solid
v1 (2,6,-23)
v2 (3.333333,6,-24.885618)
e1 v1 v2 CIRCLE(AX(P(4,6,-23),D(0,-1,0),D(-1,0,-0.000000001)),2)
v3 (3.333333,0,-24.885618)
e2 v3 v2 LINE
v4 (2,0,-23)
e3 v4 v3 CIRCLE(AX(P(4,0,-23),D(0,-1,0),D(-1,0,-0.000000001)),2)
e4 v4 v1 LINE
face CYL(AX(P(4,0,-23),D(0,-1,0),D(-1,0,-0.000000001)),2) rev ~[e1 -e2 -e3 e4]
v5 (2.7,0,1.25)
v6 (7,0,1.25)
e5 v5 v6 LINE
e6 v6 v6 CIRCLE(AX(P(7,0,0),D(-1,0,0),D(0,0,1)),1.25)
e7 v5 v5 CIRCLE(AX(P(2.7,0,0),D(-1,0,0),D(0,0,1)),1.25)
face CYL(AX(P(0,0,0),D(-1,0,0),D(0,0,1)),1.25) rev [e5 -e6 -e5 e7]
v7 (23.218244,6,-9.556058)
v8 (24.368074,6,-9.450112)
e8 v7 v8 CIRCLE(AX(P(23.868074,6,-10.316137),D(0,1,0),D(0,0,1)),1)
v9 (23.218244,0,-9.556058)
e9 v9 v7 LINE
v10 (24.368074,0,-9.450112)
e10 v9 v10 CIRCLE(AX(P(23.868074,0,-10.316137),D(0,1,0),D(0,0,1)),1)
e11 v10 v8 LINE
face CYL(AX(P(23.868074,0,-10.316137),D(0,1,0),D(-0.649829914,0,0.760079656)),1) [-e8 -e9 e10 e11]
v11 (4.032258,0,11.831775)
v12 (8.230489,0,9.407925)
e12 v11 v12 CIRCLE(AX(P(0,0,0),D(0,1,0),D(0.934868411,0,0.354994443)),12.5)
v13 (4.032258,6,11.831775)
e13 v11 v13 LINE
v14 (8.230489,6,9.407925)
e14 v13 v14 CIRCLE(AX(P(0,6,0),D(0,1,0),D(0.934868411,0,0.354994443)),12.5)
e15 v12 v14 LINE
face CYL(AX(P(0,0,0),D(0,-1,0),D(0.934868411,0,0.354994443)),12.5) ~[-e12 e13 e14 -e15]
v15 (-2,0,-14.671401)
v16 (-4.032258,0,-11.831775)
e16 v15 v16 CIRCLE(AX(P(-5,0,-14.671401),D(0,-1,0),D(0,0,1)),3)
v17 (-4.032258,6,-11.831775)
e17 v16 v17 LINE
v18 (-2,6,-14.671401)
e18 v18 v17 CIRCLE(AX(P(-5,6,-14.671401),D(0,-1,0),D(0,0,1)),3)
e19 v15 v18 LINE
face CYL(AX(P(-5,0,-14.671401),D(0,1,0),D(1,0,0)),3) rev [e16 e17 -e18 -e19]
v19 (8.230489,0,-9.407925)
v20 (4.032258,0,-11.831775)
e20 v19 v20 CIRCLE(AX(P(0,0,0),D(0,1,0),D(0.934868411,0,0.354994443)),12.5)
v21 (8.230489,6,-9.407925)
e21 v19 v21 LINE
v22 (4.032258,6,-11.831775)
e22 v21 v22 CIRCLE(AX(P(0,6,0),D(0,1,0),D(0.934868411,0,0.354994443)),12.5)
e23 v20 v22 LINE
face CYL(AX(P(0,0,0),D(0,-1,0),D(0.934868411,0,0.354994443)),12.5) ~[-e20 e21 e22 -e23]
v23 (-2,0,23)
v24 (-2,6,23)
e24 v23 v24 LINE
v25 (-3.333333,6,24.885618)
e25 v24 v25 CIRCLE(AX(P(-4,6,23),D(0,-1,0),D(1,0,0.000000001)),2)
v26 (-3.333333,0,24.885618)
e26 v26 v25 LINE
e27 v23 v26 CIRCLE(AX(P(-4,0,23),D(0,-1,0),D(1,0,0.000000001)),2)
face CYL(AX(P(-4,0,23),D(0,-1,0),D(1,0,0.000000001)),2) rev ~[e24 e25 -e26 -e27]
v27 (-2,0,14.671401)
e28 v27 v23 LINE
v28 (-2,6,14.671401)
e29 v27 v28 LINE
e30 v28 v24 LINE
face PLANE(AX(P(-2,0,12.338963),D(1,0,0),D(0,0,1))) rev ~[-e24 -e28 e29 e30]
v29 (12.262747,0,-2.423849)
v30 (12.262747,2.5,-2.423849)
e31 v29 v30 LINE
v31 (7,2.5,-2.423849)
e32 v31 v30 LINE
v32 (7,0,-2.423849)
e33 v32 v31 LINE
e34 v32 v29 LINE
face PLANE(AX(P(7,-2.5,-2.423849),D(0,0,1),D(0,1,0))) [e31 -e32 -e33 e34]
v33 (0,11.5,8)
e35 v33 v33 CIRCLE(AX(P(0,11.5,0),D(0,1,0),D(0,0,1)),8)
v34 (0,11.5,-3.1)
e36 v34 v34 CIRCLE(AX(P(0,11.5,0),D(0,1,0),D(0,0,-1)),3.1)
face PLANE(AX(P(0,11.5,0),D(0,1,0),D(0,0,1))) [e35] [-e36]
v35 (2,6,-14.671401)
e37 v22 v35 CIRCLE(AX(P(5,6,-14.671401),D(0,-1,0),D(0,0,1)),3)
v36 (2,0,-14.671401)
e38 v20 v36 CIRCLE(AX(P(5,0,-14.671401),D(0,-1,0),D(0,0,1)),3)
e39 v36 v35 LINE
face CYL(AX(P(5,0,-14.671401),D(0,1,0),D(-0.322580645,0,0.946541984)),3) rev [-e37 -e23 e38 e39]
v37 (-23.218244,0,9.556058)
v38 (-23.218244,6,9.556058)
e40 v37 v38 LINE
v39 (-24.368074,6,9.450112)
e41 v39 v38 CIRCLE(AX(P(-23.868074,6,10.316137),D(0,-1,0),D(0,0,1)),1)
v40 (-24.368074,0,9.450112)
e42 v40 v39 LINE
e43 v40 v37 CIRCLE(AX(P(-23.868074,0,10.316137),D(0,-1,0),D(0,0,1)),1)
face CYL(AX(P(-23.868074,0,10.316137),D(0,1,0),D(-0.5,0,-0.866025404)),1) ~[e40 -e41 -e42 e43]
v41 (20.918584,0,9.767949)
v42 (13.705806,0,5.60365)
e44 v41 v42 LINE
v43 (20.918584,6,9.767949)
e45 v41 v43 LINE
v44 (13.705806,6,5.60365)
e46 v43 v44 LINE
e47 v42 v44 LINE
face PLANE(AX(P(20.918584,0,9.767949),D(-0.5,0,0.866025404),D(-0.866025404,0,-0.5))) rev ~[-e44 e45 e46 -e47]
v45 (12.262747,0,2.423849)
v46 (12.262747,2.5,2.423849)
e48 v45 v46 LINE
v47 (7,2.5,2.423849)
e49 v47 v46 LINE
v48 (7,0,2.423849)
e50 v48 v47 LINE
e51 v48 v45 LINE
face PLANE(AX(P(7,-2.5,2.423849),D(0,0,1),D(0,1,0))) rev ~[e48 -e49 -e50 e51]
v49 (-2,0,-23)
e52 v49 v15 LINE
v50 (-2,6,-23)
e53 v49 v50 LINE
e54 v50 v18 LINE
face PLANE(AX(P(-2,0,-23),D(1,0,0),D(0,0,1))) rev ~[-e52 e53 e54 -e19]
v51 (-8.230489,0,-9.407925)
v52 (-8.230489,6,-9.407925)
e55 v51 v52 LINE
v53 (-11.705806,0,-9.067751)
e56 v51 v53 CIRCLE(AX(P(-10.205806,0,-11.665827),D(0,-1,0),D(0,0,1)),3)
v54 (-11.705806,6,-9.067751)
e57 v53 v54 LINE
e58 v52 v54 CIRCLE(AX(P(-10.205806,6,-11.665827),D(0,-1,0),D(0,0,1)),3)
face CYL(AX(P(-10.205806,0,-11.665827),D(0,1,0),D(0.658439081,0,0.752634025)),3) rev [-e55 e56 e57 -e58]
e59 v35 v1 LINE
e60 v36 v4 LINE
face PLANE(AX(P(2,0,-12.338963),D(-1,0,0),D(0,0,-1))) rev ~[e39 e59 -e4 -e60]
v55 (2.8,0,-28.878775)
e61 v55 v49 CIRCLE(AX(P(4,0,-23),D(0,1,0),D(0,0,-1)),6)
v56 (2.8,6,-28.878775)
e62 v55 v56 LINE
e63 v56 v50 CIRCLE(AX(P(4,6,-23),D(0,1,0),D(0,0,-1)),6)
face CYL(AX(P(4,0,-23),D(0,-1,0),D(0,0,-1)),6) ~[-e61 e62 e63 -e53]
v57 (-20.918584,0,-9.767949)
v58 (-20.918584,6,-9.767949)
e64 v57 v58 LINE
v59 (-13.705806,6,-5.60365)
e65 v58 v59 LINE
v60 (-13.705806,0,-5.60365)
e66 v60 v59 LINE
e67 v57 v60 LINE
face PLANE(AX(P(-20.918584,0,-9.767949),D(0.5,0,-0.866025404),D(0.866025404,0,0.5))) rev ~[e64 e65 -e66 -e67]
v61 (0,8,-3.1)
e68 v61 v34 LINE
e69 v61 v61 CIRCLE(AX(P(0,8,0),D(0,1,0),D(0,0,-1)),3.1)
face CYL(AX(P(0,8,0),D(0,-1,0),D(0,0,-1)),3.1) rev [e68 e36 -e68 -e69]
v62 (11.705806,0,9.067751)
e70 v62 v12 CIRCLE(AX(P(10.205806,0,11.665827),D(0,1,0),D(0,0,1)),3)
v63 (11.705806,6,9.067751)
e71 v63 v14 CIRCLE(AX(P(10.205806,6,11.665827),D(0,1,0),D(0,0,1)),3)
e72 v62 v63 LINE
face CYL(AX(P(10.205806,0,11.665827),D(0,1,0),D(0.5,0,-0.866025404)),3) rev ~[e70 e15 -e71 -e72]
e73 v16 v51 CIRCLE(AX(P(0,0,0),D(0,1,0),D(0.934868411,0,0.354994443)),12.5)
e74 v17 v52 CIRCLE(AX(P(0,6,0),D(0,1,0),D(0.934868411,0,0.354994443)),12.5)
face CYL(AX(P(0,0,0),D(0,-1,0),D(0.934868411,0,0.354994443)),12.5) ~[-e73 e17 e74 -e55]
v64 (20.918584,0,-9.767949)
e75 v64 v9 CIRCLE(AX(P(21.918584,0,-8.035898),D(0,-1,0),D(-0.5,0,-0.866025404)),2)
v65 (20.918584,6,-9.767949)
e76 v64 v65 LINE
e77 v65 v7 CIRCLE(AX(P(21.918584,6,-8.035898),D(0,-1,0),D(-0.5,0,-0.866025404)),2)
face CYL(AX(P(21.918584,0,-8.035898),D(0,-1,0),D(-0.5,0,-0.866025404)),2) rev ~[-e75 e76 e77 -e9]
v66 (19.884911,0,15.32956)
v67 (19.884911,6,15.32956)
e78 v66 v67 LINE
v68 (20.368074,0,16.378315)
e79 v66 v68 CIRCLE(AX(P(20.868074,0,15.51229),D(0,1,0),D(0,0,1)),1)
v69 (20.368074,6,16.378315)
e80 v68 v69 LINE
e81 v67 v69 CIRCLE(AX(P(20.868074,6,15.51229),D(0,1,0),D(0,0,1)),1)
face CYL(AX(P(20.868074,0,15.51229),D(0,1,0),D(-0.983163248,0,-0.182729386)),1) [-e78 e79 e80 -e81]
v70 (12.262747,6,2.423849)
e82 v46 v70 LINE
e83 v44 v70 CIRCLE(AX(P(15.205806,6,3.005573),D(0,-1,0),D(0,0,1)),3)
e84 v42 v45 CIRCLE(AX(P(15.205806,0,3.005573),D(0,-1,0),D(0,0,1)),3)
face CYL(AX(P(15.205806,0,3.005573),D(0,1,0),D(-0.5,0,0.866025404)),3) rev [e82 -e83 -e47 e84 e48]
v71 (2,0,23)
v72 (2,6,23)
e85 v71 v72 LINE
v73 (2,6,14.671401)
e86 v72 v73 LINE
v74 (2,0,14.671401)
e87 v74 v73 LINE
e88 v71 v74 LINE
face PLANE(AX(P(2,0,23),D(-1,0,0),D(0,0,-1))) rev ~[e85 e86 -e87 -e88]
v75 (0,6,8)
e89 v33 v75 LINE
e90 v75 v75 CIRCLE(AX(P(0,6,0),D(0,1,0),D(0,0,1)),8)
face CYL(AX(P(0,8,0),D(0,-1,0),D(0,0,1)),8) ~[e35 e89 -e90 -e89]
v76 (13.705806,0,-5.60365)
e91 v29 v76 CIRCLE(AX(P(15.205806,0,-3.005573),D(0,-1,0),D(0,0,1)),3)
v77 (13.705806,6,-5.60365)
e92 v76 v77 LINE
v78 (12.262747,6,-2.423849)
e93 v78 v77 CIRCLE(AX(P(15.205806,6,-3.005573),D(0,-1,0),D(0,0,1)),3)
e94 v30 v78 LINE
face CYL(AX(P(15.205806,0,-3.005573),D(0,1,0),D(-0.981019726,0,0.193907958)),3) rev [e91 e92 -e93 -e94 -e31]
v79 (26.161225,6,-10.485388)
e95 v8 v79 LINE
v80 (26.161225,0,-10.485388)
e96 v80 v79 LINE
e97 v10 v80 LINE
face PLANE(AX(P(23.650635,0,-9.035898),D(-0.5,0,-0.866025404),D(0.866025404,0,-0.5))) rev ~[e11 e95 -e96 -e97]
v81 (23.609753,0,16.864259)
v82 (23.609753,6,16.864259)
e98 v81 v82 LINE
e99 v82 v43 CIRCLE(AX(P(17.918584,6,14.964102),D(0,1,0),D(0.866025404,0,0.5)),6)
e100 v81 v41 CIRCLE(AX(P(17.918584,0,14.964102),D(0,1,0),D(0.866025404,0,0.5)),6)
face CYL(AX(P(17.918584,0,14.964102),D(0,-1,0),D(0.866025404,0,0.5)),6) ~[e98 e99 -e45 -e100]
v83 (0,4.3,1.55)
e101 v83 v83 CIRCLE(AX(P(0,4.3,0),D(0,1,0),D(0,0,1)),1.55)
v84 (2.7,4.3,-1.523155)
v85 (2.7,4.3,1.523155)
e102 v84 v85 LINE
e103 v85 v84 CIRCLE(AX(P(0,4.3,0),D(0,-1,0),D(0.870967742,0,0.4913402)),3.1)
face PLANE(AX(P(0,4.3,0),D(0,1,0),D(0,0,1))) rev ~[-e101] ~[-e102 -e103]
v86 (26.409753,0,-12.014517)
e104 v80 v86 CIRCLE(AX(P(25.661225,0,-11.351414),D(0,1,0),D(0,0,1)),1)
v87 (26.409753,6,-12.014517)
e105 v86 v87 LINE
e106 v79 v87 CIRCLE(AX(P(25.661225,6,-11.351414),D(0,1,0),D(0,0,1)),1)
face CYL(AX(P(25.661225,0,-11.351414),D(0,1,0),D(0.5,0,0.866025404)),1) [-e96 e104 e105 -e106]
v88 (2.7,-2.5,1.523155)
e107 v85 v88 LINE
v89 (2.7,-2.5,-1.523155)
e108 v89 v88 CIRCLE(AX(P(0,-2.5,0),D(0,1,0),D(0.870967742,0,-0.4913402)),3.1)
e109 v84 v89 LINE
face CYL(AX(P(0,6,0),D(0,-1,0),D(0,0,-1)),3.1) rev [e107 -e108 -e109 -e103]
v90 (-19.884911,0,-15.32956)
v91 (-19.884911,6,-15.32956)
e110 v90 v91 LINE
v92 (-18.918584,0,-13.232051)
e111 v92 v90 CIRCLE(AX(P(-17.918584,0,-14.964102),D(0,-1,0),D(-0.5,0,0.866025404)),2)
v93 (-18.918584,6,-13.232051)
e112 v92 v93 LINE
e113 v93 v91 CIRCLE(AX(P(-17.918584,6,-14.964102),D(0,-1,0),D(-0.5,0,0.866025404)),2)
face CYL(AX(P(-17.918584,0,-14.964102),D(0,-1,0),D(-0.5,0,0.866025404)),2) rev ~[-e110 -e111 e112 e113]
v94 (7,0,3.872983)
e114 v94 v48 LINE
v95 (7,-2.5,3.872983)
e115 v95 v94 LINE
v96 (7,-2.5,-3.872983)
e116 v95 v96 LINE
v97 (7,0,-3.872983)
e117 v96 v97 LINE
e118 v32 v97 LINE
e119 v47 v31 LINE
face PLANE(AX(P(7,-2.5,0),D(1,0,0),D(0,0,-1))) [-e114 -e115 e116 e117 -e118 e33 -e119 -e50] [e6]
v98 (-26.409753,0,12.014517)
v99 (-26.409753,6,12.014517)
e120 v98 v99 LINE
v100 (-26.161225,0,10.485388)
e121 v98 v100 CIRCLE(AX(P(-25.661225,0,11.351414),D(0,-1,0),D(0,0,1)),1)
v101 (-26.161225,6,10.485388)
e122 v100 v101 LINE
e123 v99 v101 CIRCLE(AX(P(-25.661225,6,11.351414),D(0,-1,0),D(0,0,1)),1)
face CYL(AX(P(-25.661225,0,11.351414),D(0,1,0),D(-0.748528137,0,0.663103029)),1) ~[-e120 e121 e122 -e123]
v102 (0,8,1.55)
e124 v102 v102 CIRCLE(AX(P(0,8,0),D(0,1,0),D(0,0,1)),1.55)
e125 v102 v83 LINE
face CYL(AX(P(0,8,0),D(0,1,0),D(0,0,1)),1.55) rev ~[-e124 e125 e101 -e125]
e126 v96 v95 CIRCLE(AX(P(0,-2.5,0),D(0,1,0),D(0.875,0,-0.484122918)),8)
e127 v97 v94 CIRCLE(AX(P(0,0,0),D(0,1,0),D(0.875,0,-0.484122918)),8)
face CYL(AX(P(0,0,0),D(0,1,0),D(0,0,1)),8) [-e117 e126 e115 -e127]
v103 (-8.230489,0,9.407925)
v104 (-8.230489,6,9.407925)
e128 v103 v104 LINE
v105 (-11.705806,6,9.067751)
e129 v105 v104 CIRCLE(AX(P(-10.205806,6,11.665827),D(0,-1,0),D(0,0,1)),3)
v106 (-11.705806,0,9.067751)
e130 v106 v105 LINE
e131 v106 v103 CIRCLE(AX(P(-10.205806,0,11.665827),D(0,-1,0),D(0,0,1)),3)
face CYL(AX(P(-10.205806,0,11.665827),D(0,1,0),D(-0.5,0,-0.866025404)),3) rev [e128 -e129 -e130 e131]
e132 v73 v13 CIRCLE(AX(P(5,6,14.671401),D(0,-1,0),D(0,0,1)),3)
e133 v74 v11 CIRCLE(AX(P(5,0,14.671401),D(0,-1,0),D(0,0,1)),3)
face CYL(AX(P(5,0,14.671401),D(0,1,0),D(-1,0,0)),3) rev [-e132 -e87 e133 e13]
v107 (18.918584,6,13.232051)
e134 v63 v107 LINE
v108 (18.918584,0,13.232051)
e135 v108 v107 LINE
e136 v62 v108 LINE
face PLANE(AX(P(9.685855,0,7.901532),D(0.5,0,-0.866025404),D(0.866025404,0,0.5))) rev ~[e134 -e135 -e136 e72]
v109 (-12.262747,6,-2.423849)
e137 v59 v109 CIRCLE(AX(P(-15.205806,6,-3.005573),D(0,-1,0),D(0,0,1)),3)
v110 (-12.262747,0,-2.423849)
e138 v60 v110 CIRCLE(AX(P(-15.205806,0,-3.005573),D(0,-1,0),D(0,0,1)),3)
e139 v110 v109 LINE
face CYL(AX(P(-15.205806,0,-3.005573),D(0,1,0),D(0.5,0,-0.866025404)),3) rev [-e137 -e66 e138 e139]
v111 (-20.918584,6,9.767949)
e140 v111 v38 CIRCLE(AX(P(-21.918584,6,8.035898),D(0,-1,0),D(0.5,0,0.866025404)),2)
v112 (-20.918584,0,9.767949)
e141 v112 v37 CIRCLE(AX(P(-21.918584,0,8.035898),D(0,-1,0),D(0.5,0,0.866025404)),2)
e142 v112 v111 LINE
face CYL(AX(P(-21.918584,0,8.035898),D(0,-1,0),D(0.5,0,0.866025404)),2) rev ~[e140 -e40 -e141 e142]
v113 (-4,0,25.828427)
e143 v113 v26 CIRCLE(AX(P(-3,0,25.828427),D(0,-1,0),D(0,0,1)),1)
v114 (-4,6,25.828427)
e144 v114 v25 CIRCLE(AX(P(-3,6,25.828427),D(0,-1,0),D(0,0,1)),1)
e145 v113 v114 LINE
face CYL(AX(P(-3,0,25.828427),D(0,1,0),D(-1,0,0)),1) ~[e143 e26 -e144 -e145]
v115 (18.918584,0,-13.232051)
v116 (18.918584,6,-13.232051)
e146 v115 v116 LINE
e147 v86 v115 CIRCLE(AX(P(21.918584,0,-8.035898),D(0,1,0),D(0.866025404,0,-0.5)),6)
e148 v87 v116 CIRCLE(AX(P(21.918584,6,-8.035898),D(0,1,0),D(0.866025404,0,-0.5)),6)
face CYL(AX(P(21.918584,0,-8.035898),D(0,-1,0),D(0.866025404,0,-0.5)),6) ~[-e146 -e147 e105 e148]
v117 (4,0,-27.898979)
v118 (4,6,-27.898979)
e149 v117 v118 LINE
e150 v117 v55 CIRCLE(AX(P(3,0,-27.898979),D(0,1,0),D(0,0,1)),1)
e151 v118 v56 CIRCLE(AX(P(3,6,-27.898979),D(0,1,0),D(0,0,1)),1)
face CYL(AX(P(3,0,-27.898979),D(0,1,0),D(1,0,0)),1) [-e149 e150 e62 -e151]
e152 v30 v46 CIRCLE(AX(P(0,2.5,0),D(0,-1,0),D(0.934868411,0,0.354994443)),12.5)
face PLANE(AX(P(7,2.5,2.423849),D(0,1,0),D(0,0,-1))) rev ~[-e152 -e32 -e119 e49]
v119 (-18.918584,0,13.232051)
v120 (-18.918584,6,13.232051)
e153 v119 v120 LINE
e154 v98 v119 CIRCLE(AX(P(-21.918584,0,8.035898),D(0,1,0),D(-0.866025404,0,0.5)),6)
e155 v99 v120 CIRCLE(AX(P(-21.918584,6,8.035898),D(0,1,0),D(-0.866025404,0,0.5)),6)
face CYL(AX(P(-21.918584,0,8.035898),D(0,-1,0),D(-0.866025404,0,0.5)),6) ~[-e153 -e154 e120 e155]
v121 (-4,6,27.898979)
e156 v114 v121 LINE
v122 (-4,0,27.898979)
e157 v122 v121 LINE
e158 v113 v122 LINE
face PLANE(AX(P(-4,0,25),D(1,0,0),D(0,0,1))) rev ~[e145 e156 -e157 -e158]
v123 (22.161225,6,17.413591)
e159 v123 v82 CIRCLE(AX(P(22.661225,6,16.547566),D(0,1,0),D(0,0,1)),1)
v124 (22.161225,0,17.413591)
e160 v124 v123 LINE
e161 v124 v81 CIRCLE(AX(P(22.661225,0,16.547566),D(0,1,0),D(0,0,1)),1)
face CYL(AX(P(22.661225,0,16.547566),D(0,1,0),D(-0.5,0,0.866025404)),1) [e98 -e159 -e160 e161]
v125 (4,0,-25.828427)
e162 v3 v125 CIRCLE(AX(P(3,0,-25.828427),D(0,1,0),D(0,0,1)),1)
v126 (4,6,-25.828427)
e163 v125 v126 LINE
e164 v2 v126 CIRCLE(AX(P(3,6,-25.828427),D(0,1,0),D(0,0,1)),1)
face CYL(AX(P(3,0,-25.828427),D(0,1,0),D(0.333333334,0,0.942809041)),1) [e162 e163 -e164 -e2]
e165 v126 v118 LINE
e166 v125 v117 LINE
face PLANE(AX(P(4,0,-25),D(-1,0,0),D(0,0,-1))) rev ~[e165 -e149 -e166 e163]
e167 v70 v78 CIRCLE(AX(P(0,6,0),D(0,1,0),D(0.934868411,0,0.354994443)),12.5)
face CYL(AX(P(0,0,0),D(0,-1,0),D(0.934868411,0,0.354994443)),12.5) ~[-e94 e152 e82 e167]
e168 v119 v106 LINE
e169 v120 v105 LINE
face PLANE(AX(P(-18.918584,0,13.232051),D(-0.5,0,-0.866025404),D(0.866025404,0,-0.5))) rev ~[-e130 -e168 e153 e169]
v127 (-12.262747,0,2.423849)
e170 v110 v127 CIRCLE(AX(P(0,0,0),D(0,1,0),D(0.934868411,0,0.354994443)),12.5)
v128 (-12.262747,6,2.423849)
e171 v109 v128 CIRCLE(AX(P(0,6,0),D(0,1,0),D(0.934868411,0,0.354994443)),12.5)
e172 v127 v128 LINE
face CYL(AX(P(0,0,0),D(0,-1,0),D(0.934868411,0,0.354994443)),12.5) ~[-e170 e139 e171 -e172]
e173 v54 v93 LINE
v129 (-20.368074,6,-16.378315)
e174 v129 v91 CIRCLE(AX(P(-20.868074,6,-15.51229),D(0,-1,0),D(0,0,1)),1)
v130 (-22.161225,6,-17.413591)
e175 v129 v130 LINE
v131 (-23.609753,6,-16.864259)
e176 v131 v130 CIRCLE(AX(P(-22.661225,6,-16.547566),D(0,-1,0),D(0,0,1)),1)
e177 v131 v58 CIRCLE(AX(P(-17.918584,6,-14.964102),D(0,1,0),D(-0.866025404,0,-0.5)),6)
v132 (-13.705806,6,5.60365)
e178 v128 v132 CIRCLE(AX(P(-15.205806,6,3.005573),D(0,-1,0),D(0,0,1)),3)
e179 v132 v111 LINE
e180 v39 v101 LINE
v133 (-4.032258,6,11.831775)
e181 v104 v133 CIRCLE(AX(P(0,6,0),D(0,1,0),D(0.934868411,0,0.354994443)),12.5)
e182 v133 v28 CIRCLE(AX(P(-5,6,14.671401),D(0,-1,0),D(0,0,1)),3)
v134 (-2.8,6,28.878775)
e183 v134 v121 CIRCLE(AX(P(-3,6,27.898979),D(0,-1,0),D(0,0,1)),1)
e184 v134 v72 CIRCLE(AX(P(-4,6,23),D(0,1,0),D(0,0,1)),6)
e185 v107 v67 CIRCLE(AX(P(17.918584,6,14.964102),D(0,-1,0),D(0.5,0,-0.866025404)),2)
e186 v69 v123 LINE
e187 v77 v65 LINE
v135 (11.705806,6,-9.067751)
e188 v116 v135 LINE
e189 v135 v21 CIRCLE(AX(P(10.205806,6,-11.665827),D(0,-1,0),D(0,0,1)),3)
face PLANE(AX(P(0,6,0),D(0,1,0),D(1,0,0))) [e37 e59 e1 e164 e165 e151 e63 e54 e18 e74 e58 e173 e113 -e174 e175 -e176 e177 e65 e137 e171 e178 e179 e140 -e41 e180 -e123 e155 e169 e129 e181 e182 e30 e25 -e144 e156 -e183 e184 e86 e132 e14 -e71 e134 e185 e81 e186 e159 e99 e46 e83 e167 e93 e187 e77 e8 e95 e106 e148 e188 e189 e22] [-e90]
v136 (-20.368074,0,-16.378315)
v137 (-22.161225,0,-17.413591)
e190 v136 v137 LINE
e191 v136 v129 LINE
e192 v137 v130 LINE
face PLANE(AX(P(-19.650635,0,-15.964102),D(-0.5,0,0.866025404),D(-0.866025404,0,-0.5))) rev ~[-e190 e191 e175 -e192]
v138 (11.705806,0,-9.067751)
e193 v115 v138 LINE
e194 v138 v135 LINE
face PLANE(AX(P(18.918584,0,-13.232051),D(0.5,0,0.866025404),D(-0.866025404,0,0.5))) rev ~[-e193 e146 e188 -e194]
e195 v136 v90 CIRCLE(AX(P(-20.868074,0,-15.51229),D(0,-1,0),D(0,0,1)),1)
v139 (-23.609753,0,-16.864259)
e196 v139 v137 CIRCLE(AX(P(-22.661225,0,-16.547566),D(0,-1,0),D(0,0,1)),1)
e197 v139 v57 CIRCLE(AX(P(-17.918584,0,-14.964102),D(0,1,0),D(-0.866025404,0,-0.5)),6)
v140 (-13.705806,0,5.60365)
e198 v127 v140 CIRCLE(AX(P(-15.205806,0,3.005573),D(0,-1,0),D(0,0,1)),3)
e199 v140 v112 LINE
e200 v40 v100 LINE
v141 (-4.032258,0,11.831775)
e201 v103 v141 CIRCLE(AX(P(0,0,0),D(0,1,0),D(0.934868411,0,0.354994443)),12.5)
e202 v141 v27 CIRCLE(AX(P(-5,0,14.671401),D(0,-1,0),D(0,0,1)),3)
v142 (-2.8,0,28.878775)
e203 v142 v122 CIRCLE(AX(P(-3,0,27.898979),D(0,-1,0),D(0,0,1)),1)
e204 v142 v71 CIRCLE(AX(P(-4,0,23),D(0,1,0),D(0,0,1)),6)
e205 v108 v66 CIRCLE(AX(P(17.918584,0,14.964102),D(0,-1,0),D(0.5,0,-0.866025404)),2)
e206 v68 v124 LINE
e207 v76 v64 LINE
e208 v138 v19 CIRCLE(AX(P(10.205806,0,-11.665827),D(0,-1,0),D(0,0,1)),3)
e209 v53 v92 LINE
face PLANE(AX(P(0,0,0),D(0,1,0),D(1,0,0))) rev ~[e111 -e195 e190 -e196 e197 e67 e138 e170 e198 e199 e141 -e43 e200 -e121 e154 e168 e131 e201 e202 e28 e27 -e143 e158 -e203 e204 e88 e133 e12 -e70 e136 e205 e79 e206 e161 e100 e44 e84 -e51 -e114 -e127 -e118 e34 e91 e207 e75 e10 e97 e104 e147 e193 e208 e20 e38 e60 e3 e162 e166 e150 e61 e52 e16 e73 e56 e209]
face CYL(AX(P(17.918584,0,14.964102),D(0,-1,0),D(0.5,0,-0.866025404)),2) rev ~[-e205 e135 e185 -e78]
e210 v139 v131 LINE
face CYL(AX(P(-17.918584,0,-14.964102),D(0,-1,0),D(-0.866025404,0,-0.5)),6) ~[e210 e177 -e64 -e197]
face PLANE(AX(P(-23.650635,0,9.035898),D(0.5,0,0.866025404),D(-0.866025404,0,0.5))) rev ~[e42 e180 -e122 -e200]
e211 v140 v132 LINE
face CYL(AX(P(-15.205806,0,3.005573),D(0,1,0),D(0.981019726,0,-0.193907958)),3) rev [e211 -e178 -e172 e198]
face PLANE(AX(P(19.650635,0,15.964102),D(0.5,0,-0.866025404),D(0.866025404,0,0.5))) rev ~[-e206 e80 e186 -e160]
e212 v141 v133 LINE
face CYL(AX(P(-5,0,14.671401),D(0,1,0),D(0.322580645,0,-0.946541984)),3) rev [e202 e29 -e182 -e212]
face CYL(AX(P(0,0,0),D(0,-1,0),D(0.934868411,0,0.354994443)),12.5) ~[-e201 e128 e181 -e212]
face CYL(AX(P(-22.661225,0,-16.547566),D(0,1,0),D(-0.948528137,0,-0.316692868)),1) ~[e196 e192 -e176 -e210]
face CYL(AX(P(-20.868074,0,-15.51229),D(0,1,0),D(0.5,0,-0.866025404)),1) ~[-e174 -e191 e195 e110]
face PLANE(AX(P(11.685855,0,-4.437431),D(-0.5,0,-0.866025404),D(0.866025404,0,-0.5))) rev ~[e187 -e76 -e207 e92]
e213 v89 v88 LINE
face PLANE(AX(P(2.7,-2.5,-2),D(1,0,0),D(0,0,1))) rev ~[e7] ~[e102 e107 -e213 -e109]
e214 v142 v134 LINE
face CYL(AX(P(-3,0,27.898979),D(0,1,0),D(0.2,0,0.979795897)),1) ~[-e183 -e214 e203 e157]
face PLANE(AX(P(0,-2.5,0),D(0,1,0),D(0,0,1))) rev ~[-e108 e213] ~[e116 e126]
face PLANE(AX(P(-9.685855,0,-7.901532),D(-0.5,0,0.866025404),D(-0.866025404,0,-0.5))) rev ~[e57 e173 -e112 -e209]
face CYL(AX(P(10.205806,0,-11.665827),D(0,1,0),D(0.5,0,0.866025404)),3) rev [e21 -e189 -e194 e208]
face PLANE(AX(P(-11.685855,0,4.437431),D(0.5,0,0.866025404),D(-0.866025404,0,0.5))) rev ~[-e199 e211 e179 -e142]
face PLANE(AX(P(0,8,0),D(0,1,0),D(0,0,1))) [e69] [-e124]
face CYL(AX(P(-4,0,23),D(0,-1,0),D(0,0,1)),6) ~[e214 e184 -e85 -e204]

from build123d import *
from build123d.topology import SkipClean

# Parameters (mm, degrees)
EXTRUDE_1_DEPTH      = 6
FILLET_1_R           = 3
FILLET_2_R           = 1
SKETCH_2_R           = 8
EXTRUDE_2_DEPTH      = 2.5
SKETCH_3_R           = 3.1
CUT_EXTRUDE_1_DEPTH  = 41.227129309
SKETCH_5_R           = 8
SKETCH_5_R_2         = 3.1
EXTRUDE_3_DEPTH      = 1.5
SKETCH_6_R           = 8
SKETCH_6_R_2         = 1.25
EXTRUDE_4_DEPTH      = 0.5
SKETCH_7_R           = 8
SKETCH_7_R_2         = 3.1
EXTRUDE_5_DEPTH      = 3.5
EXTRUDE_START        = -3.2
SKETCH_6_2_R         = 8
SKETCH_6_2_R_2       = 1.25
EXTRUDE_6_DEPTH      = 3.2
SKETCH_12_W          = 16
SKETCH_12_H          = 5
CUT_EXTRUDE_7_DEPTH  = 46.830983865
EXTRUDE_7_REACH      = 43.737
SKETCH_16_W          = 0.8
SKETCH_16_H          = 4
SKETCH_14_R          = 1.25
CUT_EXTRUDE_8_DEPTH  = 41.966107118
SKETCH_15_W          = 4.847698962
SKETCH_15_H          = 5
CUT_EXTRUDE_9_DEPTH  = 46.830983865
CUT_EXTRUDE_10_REACH = 42.697
SKETCH_17_R          = 1.55


with BuildPart() as part:
    # 草图1 → 凸台-拉伸1 (new body)
    with BuildSketch(Plane(origin=(0, 0, 0), x_dir=(1, 0, 0), z_dir=(0, 1, 0))):
        with BuildLine():
            Line((2, 12.338962679), (2, 23))
            ThreePointArc((2, 23), (2.585786438, 24.414213562), (4, 25))
            Line((4, 25), (4, 29))
            ThreePointArc((4, 29), (-0.242640687, 27.242640687), (-2, 23))
            Line((-2, 23), (-2, 12.338962679))
            ThreePointArc((-2, 12.338962679), (-6.25, 10.825317547), (-9.685855137, 7.901532147))
            Line((-9.685855137, 7.901532147), (-18.918584287, 13.232050808))
            ThreePointArc((-18.918584287, 13.232050808), (-19.85043594, 14.446463525), (-19.650635095, 15.964101615))
            Line((-19.650635095, 15.964101615), (-23.11473671, 17.964101615))
            ThreePointArc((-23.11473671, 17.964101615), (-23.714139245, 13.411187345), (-20.918584287, 9.767949192))
            Line((-20.918584287, 9.767949192), (-11.685855137, 4.437430532))
            ThreePointArc((-11.685855137, 4.437430532), (-12.5, 0), (-11.685855137, -4.437430532))
            Line((-11.685855137, -4.437430532), (-20.918584287, -9.767949192))
            ThreePointArc((-20.918584287, -9.767949192), (-22.436222377, -9.967750037), (-23.650635095, -9.035898385))
            Line((-23.650635095, -9.035898385), (-27.11473671, -11.035898385))
            ThreePointArc((-27.11473671, -11.035898385), (-23.471498558, -13.831453343), (-18.918584287, -13.232050808))
            Line((-18.918584287, -13.232050808), (-9.685855137, -7.901532147))
            ThreePointArc((-9.685855137, -7.901532147), (-6.25, -10.825317547), (-2, -12.338962679))
            Line((-2, -12.338962679), (-2, -23))
            ThreePointArc((-2, -23), (-2.585786438, -24.414213562), (-4, -25))
            Line((-4, -25), (-4, -29))
            ThreePointArc((-4, -29), (0.242640687, -27.242640687), (2, -23))
            Line((2, -23), (2, -12.338962679))
            ThreePointArc((2, -12.338962679), (6.25, -10.825317547), (9.685855137, -7.901532147))
            Line((9.685855137, -7.901532147), (18.918584287, -13.232050808))
            ThreePointArc((18.918584287, -13.232050808), (19.85043594, -14.446463525), (19.650635095, -15.964101615))
            Line((19.650635095, -15.964101615), (23.11473671, -17.964101615))
            ThreePointArc((23.11473671, -17.964101615), (23.714139245, -13.411187345), (20.918584287, -9.767949192))
            Line((20.918584287, -9.767949192), (11.685855137, -4.437430532))
            ThreePointArc((11.685855137, -4.437430532), (12.5, 0), (11.685855137, 4.437430532))
            Line((11.685855137, 4.437430532), (20.918584287, 9.767949192))
            ThreePointArc((20.918584287, 9.767949192), (22.436222377, 9.967750037), (23.650635095, 9.035898385))
            Line((23.650635095, 9.035898385), (27.11473671, 11.035898385))
            ThreePointArc((27.11473671, 11.035898385), (23.471498558, 13.831453343), (18.918584287, 13.232050808))
            Line((18.918584287, 13.232050808), (9.685855137, 7.901532147))
            ThreePointArc((9.685855137, 7.901532147), (6.25, 10.825317547), (2, 12.338962679))
        make_face()
    extrude(amount=EXTRUDE_1_DEPTH)

    # 圆角1
    fillet_1_edges = [part.edges().sort_by_distance(p)[0] for p in [
        (9.685855137, 3, -7.901532147),
        (2, 3, -12.338962679),
        (-2, 3, -12.338962679),
        (-9.685855137, 3, -7.901532147),
        (-11.685855137, 3, -4.437430532),
        (-11.685855137, 3, 4.437430532),
        (-9.685855137, 3, 7.901532147),
        (-2, 3, 12.338962679),
        (2, 3, 12.338962679),
        (11.685855137, 3, 4.437430532),
        (9.685855137, 3, 7.901532147),
        (11.685855137, 3, -4.437430532),
    ]]
    fillet(fillet_1_edges, radius=FILLET_1_R)

    # 圆角2
    fillet_2_edges = [part.edges().sort_by_distance(p)[0] for p in [
        (-4, 3, 25),
        (-27.11473671, 3, 11.035898385),
        (-23.650635095, 3, 9.035898385),
        (-23.11473671, 3, -17.964101615),
        (-19.650635095, 3, -15.964101615),
        (4, 3, -29),
        (4, 3, -25),
        (27.11473671, 3, -11.035898385),
        (23.650635095, 3, -9.035898385),
        (19.650635095, 3, 15.964101615),
        (23.11473671, 3, 17.964101615),
        (-4, 3, 29),
    ]]
    fillet(fillet_2_edges, radius=FILLET_2_R)

    # 草图2 → 凸台-拉伸2 (add)
    with BuildSketch(Plane(origin=(0, 0, 0), x_dir=(1, 0, 0), z_dir=(0, 1, 0))):
        Circle(SKETCH_2_R)
    extrude(amount=-EXTRUDE_2_DEPTH)

    # 草图3 → 切除-拉伸1 (cut, through all)
    with BuildSketch(Plane(origin=(0, -2.5, 0), x_dir=(-1, 0, 0), z_dir=(0, -1, 0))):
        Circle(SKETCH_3_R)
    extrude(amount=-CUT_EXTRUDE_1_DEPTH, mode=Mode.SUBTRACT)

    # 草图5 → 凸台-拉伸3 (add)
    with SkipClean():  # the faces are left unmerged after this step: merging them gives an invalid solid
        with BuildSketch(Plane(origin=(0, 6, 0), x_dir=(1, 0, 0), z_dir=(0, 1, 0))):
            Circle(SKETCH_5_R)
            Circle(SKETCH_5_R_2, mode=Mode.SUBTRACT)
        extrude(amount=EXTRUDE_3_DEPTH)

    # 草图6 → 凸台-拉伸4 (add)
    with SkipClean():  # the faces are left unmerged after this step: merging them gives an invalid solid
        with BuildSketch(Plane(origin=(0, 7.5, 0), x_dir=(1, 0, 0), z_dir=(0, 1, 0))):
            Circle(SKETCH_6_R)
            Circle(SKETCH_6_R_2, mode=Mode.SUBTRACT)
        extrude(amount=EXTRUDE_4_DEPTH)

    # 草图7 → 凸台-拉伸5 (add)
    with SkipClean():  # the faces are left unmerged after this step: merging them gives an invalid solid
        with BuildSketch(Plane(origin=(0, 8, 0), x_dir=(1, 0, 0), z_dir=(0, 1, 0))):
            Circle(SKETCH_7_R)
            Circle(SKETCH_7_R_2, mode=Mode.SUBTRACT)
        extrude(amount=EXTRUDE_5_DEPTH)

    # 草图6<2> → 凸台-拉伸6 (add)
    with BuildSketch(Plane(origin=(0, 7.5, 0), x_dir=(1, 0, 0), z_dir=(0, 1, 0)).offset(EXTRUDE_START)):
        Circle(SKETCH_6_2_R)
        Circle(SKETCH_6_2_R_2, mode=Mode.SUBTRACT)
    extrude(amount=EXTRUDE_6_DEPTH)

    # 草图12 → 切除-拉伸7 (cut, through all)
    with BuildSketch(Plane(origin=(7, 0, 0), x_dir=(0, 0, -1), z_dir=(1, 0, 0))):
        with Locations((0, -2.5)):
            Rectangle(SKETCH_12_W, SKETCH_12_H)
    extrude(amount=CUT_EXTRUDE_7_DEPTH, mode=Mode.SUBTRACT)

    # 草图16 → 凸台-拉伸7 (add, up to next)
    with BuildSketch(Plane.XZ.offset(2.5), mode=Mode.PRIVATE) as extrude_7_sk1:
        with Locations((3.1, 0)):
            Rectangle(SKETCH_16_W, SKETCH_16_H)
    extrude_7_tool1 = extrude(extrude_7_sk1.sketch, amount=-EXTRUDE_7_REACH, mode=Mode.PRIVATE) - part.part
    add(extrude_7_tool1.solids().sort_by_distance((3.1, -2.5, 0))[0])

    # 草图14 → 切除-拉伸8 (cut, through all)
    with BuildSketch(Plane(origin=(0, 0, 0), x_dir=(0, 0, -1), z_dir=(1, 0, 0))):
        Circle(SKETCH_14_R)
    extrude(amount=CUT_EXTRUDE_8_DEPTH, mode=Mode.SUBTRACT)

    # 草图15 → 切除-拉伸9 (cut, through all)
    with BuildSketch(Plane(origin=(7, 0, 0), x_dir=(0, 0, -1), z_dir=(1, 0, 0))):
        Rectangle(SKETCH_15_W, SKETCH_15_H)
    extrude(amount=CUT_EXTRUDE_9_DEPTH, mode=Mode.SUBTRACT)

    # 草图17 → 切除-拉伸10 (cut, up to next)
    with BuildSketch(Plane(origin=(0, 8, 0), x_dir=(1, 0, 0), z_dir=(0, 1, 0)), mode=Mode.PRIVATE) as cut_extrude_10_sk1:
        Circle(SKETCH_17_R)
    cut_extrude_10_tool1 = extrude(cut_extrude_10_sk1.sketch, amount=-CUT_EXTRUDE_10_REACH, mode=Mode.PRIVATE) & part.part
    add(cut_extrude_10_tool1.solids().sort_by_distance((0, 8, 0))[0], mode=Mode.SUBTRACT)


solid = part.part
